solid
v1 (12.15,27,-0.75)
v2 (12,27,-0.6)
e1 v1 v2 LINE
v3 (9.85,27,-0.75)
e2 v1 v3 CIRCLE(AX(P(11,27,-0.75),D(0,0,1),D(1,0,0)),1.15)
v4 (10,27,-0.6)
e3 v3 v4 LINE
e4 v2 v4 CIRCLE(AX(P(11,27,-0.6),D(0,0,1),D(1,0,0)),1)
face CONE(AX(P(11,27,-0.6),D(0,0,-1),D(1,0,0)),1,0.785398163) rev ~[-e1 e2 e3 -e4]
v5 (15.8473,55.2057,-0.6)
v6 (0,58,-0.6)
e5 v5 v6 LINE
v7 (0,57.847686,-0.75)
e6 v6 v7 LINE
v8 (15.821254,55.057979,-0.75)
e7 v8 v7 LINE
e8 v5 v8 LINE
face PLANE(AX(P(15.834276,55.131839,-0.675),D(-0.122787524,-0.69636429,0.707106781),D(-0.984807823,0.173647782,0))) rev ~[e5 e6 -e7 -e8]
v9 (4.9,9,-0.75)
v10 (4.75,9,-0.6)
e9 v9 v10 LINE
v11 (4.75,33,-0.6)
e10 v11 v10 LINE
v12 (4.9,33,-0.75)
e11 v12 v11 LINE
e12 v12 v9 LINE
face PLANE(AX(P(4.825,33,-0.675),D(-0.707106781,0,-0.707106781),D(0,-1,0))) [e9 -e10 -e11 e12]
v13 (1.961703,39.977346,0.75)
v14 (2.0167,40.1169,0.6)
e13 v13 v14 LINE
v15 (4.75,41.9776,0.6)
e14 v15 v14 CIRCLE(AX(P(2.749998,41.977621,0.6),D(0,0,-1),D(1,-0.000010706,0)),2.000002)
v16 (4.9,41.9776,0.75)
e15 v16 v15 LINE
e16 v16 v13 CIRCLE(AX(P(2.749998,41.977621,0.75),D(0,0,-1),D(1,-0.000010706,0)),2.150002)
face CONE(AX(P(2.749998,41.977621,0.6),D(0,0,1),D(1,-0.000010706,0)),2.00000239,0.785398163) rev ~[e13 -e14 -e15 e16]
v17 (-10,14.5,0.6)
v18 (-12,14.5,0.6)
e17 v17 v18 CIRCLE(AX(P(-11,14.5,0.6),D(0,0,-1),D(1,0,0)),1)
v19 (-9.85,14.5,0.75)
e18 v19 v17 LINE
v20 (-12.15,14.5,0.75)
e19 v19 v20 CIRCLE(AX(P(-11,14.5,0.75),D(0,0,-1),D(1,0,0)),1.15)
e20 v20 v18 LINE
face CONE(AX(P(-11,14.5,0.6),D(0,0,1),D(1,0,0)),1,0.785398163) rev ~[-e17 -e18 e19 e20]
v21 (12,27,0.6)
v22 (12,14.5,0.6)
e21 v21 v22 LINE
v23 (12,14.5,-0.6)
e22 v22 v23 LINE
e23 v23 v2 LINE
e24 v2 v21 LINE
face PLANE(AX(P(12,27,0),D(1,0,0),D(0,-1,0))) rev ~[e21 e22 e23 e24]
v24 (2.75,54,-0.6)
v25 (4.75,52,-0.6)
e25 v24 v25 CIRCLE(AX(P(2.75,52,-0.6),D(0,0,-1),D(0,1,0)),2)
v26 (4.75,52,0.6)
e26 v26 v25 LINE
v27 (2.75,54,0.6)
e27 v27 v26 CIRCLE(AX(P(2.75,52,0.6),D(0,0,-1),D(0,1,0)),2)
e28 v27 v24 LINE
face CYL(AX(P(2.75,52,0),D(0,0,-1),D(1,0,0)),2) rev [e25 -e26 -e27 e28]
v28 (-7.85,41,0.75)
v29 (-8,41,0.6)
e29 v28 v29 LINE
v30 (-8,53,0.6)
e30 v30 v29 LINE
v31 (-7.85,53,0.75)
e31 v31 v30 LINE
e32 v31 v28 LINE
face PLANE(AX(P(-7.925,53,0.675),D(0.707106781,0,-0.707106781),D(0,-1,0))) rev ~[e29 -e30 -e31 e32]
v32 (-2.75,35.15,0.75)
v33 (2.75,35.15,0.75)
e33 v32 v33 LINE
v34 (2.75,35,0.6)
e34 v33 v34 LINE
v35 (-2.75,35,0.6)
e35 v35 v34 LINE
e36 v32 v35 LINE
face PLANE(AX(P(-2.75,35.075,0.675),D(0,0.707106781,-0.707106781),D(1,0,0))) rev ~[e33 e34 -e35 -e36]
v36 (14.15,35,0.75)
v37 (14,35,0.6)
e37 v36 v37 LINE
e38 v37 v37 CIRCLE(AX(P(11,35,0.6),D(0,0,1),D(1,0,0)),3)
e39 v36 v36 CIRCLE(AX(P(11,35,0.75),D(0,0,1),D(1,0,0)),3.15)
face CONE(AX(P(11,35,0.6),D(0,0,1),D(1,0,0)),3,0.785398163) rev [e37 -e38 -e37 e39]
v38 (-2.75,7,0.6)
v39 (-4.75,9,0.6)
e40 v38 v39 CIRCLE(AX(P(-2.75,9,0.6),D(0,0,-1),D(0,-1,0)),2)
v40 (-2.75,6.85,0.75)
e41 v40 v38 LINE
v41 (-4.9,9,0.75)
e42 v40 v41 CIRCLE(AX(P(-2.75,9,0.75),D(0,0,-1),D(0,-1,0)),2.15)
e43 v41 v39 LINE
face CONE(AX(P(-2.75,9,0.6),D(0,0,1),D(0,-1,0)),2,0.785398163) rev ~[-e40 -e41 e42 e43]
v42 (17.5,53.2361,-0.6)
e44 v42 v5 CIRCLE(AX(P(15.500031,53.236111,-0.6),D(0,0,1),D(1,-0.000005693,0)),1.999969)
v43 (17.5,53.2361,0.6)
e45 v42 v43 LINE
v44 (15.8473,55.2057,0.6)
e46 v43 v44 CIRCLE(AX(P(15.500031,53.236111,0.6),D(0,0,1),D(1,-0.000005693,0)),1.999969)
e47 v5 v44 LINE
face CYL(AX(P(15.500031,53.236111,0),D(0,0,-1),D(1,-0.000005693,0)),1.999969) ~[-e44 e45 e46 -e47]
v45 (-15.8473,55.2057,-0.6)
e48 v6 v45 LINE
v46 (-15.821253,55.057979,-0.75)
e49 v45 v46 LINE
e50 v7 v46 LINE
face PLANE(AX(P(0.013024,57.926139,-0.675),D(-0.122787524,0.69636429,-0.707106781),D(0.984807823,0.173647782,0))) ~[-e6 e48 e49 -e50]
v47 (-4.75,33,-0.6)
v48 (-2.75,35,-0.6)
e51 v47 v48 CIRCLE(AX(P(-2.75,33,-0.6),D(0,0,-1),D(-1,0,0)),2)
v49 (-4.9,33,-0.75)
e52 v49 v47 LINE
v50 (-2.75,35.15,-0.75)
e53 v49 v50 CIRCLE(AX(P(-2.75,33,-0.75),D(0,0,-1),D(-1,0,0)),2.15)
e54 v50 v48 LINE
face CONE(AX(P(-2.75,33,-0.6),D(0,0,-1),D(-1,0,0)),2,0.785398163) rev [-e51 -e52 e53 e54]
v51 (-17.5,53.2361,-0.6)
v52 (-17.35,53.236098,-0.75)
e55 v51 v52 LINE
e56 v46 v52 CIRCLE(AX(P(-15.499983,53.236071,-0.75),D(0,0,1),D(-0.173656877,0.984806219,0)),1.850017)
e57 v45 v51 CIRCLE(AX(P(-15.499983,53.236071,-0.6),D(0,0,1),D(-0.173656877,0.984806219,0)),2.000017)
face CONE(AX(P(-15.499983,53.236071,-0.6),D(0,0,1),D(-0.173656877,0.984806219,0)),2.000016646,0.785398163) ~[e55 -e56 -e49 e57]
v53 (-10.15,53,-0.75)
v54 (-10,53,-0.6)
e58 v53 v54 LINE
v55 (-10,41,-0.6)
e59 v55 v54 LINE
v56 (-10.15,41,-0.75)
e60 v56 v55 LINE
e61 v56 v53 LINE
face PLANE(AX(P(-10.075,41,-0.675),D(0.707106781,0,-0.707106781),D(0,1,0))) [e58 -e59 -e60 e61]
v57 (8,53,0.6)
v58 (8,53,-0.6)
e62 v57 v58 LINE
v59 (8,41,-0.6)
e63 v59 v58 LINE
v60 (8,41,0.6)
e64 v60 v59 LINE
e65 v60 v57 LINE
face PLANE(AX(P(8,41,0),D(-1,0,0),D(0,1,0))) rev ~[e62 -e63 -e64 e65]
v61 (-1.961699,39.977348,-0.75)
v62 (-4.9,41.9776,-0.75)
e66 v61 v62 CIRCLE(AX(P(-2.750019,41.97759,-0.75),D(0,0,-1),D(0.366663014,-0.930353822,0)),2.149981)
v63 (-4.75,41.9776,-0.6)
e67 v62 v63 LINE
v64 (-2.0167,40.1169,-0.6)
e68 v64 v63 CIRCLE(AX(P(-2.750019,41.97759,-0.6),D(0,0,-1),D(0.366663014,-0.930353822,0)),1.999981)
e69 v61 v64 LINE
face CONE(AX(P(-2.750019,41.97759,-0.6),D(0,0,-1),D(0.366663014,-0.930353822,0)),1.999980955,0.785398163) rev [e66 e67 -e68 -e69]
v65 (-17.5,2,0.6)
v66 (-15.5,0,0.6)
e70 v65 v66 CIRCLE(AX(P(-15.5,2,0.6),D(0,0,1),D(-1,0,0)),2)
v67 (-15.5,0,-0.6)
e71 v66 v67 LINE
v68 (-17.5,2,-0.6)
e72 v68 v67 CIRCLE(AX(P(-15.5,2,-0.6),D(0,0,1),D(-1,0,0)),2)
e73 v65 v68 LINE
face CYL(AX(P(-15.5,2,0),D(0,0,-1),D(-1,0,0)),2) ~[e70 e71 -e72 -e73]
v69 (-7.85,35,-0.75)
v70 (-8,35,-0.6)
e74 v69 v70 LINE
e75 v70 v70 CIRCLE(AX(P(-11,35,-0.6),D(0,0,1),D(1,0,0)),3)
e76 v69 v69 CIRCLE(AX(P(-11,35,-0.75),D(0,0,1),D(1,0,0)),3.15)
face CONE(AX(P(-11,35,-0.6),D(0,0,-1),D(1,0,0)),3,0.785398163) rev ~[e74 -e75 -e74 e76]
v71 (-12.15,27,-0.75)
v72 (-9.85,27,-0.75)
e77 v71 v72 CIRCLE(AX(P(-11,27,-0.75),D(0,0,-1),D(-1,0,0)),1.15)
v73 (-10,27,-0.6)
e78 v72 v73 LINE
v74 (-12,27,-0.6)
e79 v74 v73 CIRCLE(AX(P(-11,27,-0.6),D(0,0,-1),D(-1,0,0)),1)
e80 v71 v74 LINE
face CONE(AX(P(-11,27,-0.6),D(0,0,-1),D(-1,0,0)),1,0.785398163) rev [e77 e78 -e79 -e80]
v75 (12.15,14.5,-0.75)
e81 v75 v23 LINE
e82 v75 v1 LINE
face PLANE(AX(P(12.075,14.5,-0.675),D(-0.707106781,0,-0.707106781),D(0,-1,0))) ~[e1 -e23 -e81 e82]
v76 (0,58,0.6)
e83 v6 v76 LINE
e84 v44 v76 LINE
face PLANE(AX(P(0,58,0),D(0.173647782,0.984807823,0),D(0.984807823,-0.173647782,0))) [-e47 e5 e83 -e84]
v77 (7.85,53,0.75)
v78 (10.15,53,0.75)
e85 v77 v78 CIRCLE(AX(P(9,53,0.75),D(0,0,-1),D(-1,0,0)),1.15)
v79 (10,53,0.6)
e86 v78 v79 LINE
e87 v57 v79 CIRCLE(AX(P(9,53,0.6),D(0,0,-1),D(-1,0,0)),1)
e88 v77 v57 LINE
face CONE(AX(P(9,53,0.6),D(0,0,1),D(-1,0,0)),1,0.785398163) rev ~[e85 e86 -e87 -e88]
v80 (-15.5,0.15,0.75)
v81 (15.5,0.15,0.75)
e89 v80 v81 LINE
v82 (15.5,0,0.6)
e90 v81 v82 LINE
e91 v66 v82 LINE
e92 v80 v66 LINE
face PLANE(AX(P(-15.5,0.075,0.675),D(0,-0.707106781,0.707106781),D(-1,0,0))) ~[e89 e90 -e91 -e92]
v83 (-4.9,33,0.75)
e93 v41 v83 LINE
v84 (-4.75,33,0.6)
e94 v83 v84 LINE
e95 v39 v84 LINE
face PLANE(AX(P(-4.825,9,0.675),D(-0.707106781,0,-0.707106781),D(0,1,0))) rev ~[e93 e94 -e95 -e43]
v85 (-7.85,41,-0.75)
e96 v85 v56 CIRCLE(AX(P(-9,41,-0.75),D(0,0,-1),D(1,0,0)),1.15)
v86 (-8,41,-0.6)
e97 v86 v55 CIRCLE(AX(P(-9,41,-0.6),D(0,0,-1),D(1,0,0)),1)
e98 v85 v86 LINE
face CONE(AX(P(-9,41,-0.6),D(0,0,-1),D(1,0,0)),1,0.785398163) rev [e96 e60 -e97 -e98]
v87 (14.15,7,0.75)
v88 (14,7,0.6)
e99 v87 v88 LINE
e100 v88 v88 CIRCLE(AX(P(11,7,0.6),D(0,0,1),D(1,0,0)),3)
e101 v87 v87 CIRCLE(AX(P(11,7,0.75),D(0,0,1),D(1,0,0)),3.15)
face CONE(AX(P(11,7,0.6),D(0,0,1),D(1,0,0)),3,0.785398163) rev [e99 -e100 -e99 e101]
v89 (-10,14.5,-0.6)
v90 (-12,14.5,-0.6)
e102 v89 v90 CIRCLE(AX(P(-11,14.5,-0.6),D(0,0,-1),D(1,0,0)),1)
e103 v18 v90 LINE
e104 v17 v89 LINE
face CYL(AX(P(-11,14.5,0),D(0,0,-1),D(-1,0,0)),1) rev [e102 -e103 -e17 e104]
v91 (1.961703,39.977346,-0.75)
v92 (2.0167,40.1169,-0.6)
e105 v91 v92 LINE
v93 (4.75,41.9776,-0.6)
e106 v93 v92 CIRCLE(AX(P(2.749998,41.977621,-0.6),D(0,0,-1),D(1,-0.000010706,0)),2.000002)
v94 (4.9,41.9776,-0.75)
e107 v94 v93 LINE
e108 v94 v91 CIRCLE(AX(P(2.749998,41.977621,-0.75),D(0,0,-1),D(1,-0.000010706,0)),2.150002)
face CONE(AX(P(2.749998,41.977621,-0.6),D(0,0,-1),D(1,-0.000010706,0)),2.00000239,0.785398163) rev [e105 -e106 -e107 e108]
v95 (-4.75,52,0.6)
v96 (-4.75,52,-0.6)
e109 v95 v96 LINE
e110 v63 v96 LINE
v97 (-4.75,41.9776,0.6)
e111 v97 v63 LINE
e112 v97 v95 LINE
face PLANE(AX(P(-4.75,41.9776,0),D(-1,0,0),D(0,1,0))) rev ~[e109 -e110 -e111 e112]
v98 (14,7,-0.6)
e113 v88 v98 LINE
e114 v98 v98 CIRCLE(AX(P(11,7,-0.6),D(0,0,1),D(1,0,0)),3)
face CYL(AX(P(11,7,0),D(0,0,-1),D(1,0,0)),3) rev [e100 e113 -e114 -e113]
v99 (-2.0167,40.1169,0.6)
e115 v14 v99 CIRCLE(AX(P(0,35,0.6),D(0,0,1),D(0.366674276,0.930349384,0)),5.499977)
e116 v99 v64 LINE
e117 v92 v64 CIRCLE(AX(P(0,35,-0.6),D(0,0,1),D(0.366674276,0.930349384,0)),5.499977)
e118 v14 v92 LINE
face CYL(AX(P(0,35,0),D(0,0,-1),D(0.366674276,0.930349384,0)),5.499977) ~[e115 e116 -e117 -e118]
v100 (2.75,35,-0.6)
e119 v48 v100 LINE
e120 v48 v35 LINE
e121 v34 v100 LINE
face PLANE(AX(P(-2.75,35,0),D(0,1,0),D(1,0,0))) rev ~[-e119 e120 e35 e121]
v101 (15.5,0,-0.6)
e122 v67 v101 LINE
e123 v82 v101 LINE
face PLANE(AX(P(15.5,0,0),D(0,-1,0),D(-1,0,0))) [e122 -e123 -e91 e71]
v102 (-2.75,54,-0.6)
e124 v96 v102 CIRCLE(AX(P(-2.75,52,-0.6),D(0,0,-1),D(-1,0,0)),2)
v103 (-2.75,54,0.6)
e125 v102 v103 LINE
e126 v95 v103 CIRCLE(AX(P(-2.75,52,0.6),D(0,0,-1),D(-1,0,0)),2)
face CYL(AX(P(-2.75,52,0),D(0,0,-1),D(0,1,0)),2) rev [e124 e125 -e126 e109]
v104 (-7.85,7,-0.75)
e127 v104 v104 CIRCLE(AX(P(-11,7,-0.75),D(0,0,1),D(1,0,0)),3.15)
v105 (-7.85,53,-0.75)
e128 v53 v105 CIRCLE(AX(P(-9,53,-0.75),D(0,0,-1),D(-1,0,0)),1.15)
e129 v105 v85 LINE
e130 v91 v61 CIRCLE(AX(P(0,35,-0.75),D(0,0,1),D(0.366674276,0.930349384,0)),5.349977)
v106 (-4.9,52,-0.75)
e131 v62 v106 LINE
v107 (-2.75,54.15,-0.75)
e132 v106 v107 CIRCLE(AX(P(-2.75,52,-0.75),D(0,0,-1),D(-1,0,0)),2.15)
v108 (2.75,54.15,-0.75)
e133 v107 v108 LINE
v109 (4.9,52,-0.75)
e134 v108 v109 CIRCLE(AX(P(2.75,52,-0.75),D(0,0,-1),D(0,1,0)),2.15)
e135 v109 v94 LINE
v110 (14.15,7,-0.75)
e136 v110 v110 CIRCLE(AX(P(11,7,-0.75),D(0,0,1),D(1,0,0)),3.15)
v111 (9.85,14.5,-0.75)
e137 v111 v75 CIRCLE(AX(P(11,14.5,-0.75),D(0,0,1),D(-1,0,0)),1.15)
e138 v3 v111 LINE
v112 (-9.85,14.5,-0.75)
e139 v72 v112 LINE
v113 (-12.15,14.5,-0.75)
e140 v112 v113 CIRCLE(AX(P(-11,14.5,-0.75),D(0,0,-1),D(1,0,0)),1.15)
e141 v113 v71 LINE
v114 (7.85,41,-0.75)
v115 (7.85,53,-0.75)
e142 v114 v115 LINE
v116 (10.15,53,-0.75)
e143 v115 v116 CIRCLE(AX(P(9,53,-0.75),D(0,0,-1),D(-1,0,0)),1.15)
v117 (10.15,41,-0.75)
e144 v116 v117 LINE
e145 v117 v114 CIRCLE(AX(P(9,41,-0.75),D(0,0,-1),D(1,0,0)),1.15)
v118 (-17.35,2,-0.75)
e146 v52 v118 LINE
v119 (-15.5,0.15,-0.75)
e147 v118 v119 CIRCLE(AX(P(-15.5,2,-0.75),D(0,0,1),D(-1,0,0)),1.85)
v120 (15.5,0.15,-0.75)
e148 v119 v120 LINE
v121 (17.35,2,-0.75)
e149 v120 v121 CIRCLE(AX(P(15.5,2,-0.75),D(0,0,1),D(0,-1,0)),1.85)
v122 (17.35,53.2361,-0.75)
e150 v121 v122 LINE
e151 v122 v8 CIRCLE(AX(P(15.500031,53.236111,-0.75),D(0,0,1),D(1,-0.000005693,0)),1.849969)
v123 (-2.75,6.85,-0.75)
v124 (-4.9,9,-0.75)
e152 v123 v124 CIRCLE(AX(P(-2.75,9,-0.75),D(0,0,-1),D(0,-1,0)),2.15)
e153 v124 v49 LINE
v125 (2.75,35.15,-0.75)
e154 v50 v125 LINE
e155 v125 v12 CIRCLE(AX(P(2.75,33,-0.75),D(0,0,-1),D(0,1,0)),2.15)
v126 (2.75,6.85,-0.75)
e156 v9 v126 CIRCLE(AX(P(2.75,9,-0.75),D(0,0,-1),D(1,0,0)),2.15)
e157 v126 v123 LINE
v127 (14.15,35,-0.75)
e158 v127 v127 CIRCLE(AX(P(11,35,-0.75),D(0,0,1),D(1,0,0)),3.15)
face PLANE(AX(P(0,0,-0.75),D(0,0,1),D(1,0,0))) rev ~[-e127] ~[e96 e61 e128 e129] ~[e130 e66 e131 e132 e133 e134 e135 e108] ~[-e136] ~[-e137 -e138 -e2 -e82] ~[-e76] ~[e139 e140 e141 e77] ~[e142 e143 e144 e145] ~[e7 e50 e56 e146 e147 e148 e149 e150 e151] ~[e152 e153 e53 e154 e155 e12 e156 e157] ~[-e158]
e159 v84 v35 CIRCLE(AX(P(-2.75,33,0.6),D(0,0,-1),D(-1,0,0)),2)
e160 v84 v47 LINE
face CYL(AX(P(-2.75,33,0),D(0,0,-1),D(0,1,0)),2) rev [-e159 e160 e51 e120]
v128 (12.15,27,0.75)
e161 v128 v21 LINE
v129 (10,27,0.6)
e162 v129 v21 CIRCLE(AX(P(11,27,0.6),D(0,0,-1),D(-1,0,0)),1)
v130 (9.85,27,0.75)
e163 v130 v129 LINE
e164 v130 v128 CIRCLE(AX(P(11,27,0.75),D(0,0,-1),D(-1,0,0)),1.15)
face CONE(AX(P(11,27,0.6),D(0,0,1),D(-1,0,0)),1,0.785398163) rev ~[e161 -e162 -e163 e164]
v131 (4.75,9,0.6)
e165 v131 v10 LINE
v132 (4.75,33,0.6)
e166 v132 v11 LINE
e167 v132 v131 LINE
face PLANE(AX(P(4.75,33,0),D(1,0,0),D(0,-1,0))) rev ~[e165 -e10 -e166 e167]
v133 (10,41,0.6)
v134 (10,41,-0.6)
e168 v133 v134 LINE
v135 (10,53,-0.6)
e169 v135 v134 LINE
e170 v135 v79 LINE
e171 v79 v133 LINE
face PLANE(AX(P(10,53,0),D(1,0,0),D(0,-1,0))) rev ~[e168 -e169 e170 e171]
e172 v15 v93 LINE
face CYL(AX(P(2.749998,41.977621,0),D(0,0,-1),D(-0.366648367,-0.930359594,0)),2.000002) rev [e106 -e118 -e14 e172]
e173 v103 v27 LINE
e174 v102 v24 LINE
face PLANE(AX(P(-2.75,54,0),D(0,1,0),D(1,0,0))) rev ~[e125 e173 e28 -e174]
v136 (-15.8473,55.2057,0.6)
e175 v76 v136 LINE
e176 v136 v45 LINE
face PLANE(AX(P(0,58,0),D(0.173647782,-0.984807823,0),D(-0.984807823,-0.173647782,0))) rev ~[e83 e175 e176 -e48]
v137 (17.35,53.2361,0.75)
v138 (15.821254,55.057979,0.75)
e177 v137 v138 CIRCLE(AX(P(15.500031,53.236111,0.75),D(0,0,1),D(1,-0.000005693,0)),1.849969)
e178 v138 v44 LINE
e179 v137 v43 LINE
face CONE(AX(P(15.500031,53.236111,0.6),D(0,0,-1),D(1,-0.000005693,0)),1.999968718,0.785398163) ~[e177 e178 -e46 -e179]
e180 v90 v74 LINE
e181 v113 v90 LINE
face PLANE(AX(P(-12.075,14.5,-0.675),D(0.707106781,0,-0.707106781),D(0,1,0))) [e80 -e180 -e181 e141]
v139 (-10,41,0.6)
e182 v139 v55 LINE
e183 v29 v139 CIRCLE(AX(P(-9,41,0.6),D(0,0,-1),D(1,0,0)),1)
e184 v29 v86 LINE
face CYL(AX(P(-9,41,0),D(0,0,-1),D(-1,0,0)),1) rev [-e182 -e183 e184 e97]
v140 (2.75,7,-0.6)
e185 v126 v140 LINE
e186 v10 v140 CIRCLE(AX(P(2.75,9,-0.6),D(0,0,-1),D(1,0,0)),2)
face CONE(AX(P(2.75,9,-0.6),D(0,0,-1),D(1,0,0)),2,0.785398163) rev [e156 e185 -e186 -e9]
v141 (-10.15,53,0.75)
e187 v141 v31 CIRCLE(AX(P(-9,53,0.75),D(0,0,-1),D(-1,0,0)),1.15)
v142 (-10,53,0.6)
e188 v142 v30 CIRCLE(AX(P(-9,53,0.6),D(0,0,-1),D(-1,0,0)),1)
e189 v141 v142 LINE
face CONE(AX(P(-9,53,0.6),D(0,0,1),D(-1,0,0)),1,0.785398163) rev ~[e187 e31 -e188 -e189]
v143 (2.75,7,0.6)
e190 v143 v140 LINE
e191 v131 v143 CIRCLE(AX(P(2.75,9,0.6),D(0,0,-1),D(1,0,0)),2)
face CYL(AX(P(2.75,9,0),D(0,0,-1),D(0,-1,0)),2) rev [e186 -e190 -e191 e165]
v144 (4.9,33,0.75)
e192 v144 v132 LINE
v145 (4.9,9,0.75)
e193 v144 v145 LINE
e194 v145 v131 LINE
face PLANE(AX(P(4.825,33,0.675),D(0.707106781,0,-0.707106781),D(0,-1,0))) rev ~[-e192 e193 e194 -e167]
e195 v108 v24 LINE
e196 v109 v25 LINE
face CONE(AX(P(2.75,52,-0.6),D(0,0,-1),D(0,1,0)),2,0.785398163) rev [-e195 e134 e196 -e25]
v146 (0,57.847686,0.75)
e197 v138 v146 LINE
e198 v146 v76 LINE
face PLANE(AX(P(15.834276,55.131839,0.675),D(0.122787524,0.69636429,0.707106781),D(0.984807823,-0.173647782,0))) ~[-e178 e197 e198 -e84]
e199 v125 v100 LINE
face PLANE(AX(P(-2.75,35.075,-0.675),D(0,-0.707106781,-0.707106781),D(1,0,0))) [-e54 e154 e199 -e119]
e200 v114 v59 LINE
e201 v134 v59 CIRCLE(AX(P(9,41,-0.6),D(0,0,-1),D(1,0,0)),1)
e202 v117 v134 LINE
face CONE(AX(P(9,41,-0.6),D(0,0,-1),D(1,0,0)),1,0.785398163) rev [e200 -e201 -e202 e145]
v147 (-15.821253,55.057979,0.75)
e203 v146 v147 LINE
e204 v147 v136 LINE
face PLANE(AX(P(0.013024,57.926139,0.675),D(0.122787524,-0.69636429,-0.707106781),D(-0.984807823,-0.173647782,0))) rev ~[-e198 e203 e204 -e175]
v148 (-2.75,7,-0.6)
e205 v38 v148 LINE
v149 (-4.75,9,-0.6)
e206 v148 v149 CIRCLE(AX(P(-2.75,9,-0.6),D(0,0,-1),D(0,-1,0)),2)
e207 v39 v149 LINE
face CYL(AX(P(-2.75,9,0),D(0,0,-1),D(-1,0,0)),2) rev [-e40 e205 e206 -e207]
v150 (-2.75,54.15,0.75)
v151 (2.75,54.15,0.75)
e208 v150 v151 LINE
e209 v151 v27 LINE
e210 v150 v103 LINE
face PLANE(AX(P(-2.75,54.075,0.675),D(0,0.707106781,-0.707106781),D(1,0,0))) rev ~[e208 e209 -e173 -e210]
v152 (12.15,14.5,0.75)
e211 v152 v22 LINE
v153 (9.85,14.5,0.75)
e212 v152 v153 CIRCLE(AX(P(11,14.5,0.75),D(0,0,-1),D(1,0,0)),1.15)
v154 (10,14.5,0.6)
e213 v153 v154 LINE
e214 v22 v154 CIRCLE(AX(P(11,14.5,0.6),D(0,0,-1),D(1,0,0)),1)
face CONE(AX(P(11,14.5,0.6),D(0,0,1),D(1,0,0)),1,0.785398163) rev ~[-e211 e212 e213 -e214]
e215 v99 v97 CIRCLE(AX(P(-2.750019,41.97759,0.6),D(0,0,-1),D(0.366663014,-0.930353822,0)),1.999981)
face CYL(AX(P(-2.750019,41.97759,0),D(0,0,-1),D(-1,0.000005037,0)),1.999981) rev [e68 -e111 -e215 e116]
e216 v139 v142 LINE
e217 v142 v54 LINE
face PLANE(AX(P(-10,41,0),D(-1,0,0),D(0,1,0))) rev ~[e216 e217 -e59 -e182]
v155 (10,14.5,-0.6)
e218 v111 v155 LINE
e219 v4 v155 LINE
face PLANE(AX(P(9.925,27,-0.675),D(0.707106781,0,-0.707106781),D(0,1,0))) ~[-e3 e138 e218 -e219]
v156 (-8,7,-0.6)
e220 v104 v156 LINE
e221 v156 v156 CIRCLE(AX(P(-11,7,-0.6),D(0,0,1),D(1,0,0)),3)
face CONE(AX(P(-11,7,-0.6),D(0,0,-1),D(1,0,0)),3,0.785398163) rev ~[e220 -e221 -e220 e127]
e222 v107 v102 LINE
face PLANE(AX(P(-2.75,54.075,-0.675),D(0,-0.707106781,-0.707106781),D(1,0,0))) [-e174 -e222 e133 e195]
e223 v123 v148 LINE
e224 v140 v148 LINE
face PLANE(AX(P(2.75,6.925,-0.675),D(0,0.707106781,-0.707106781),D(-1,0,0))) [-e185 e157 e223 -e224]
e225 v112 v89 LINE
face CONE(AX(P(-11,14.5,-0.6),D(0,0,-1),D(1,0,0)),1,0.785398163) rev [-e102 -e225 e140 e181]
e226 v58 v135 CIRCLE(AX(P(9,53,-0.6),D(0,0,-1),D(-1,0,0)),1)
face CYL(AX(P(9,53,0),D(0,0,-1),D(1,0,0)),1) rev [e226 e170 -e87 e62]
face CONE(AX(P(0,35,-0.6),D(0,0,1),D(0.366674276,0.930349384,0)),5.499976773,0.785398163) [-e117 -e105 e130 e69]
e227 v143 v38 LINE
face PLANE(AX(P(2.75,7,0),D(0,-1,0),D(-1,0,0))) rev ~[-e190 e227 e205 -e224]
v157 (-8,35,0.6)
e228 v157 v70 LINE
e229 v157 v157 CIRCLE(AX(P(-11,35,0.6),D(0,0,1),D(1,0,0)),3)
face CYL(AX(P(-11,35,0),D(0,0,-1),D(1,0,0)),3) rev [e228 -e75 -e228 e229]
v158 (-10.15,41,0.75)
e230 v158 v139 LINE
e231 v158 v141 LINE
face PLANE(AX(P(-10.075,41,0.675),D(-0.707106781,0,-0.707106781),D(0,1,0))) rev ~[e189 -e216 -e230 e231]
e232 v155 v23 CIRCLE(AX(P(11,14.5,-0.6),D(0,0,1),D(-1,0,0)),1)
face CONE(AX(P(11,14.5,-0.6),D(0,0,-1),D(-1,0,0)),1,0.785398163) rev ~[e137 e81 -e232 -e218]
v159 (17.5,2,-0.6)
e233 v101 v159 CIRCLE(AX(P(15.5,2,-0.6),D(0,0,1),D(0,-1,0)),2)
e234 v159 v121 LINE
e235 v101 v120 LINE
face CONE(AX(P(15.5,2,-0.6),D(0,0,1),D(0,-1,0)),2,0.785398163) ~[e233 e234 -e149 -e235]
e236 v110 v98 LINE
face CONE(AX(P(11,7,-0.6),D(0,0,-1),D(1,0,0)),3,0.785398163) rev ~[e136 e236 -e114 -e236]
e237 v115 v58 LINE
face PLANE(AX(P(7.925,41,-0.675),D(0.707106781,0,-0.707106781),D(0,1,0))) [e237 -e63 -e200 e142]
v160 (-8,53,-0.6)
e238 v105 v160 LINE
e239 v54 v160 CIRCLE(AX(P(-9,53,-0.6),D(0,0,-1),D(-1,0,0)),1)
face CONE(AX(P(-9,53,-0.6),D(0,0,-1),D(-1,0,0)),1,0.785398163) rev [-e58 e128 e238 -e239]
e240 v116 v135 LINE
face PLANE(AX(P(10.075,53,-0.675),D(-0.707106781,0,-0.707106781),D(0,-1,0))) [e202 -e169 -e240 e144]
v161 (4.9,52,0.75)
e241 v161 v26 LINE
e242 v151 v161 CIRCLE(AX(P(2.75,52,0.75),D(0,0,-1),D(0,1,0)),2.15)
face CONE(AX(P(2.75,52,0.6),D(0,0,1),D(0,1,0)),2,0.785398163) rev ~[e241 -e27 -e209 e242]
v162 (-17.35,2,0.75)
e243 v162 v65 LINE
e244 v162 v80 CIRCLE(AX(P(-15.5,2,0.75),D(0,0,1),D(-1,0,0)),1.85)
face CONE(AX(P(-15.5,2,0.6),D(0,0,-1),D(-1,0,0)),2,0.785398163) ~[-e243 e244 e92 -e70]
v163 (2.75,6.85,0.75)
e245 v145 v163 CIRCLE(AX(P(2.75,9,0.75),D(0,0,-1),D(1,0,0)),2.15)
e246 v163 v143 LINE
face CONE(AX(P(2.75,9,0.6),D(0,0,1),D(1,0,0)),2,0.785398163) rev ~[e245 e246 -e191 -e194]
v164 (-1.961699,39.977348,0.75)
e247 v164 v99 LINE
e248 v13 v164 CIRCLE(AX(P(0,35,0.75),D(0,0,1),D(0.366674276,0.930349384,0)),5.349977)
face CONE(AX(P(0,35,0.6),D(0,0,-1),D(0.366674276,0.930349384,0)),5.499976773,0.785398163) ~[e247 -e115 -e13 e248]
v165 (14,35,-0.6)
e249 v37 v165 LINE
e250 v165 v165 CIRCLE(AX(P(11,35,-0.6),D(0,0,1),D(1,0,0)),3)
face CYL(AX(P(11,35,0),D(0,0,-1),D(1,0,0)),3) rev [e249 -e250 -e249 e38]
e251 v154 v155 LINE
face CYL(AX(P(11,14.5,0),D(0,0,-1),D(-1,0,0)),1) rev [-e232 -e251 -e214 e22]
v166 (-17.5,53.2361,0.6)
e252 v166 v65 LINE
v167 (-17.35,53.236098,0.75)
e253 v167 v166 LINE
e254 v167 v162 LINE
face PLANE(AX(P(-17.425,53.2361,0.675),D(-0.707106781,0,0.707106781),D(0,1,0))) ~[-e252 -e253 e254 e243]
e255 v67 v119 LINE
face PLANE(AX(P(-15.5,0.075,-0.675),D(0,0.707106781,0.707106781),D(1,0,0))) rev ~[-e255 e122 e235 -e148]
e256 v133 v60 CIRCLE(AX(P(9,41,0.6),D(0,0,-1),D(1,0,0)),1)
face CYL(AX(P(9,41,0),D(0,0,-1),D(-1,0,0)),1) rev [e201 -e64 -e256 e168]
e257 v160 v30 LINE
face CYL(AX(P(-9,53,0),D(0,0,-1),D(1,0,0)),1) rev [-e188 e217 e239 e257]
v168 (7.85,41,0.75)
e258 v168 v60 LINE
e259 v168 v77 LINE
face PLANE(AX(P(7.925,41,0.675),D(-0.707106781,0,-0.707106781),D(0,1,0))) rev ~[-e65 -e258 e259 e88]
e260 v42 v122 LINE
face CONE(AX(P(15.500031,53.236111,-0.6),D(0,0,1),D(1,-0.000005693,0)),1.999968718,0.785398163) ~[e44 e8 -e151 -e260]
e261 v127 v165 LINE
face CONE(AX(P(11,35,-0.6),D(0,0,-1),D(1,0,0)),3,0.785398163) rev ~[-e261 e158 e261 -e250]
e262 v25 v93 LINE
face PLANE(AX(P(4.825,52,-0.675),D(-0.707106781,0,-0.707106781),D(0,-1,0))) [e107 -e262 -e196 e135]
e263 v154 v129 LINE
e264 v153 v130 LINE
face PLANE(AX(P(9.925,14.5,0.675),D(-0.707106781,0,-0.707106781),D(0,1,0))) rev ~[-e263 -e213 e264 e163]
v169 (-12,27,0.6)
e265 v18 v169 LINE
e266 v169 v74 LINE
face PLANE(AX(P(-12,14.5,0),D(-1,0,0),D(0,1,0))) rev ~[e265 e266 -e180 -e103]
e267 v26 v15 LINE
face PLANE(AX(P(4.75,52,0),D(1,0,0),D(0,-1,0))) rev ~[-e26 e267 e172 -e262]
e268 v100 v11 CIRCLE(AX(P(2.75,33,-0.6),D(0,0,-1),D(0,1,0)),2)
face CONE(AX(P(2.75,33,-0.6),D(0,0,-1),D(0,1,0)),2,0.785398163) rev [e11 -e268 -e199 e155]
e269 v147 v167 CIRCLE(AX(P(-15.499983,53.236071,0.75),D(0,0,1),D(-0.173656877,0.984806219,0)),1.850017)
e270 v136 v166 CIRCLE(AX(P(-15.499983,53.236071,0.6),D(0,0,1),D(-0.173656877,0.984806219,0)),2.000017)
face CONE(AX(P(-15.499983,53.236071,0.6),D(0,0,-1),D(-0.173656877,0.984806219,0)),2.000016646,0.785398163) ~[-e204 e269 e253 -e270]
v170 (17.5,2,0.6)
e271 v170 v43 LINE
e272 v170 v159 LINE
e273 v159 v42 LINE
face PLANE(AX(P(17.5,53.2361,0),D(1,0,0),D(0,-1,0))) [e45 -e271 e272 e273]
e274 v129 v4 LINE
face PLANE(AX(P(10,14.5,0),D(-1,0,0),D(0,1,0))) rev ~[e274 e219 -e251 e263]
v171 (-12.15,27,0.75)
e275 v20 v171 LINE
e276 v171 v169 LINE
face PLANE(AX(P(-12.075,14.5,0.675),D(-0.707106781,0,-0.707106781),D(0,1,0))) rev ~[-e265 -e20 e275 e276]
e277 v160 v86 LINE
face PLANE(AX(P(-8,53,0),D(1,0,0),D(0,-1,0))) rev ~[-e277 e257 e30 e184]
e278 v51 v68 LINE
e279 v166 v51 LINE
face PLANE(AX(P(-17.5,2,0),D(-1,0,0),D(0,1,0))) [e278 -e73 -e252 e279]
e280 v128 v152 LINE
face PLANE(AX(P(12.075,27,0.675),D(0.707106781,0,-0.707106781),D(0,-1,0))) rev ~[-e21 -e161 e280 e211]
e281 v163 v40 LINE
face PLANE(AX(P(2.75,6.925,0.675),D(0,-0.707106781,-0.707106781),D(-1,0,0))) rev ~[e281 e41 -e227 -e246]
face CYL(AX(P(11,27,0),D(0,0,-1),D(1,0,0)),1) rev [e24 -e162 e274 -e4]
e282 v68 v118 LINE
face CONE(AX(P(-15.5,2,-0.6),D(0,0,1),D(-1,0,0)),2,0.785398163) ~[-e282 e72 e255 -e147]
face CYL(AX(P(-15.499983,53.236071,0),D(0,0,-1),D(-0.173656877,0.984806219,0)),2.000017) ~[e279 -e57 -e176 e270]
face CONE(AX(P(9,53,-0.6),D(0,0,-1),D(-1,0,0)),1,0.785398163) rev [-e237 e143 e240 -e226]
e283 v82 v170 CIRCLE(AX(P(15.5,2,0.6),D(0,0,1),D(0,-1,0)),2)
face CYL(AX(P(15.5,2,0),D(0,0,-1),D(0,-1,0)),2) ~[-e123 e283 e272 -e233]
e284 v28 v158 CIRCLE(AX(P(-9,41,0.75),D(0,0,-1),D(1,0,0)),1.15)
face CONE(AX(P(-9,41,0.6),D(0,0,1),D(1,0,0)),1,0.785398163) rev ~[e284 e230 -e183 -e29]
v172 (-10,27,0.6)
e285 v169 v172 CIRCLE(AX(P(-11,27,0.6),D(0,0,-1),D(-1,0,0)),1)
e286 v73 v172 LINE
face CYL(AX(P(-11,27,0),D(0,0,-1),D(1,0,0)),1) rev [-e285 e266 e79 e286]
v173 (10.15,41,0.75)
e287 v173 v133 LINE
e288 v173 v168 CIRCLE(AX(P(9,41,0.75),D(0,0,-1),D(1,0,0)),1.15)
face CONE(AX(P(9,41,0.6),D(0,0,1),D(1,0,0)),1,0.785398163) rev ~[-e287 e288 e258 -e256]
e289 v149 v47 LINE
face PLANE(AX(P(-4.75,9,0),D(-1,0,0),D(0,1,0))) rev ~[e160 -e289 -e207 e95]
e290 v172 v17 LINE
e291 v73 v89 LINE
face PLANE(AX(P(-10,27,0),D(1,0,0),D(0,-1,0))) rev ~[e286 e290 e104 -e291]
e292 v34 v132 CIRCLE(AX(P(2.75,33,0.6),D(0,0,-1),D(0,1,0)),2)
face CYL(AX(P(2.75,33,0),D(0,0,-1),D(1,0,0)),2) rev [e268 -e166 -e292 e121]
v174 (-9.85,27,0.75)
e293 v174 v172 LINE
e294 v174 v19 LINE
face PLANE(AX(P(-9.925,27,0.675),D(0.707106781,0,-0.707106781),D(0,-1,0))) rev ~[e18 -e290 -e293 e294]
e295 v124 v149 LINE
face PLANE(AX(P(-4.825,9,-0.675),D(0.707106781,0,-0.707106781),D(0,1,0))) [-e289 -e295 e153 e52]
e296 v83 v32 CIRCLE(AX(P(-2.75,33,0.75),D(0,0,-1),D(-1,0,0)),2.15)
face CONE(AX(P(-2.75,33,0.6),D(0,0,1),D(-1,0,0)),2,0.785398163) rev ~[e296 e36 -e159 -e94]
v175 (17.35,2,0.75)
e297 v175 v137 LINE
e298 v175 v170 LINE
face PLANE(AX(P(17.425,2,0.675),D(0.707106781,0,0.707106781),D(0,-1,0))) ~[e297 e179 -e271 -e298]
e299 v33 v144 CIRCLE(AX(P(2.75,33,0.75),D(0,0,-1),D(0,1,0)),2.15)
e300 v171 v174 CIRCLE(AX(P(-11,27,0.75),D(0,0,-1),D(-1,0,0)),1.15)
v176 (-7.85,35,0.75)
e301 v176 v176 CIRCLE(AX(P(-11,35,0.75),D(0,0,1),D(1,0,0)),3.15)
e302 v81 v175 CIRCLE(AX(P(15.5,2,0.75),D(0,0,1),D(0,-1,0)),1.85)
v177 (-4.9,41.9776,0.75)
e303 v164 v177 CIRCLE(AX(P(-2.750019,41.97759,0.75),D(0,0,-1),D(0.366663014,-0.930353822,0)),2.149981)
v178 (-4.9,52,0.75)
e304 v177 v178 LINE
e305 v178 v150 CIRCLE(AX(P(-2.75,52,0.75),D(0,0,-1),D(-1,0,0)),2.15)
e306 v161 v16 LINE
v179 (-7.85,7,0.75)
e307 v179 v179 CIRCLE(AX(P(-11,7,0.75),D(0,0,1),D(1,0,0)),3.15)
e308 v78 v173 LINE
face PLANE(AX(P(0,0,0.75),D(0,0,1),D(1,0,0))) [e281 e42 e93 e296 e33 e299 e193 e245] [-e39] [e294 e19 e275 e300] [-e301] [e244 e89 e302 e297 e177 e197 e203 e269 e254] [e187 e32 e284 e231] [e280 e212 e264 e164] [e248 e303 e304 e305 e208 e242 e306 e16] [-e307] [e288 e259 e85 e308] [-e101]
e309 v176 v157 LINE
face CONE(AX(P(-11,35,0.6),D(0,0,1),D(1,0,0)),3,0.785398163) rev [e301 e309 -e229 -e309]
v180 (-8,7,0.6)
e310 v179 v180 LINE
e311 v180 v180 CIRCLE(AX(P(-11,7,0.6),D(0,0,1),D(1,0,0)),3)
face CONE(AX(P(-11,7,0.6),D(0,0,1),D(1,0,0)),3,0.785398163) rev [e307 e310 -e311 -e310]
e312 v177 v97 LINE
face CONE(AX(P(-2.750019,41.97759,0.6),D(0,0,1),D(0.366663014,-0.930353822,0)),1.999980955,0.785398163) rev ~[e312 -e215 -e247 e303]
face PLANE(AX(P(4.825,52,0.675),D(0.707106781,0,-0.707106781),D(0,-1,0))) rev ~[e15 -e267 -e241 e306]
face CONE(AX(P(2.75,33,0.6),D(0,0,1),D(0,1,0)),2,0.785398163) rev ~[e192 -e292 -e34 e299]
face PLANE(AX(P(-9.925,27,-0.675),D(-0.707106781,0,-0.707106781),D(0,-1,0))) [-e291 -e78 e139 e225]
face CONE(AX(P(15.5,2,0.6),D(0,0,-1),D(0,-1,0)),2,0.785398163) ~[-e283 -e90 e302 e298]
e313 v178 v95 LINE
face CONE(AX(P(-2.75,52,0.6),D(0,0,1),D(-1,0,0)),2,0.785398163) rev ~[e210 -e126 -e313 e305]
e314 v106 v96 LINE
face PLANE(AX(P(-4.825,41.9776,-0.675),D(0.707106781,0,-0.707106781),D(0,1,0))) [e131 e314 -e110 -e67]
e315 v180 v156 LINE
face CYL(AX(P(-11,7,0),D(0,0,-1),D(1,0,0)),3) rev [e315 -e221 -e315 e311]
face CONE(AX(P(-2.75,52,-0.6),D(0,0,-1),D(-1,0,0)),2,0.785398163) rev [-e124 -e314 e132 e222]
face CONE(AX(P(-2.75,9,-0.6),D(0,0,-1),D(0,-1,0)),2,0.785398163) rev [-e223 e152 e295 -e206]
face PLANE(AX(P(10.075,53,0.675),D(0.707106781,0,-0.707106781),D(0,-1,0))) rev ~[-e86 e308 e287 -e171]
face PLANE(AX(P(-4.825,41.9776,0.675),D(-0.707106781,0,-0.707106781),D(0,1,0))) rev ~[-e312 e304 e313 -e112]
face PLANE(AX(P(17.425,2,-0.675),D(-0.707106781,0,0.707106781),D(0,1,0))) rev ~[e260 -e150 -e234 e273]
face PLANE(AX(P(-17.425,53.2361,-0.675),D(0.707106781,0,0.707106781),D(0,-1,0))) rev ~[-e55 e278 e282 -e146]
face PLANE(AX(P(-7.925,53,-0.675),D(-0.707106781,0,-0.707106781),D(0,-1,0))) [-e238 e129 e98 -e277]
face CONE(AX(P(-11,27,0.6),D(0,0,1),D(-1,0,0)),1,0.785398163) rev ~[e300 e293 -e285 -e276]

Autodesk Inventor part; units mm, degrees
ref_plane "YZ Plane" through (0, 0, 0) normal (1, 0, 0) x (0, 1, 0)
ref_plane "XZ Plane" through (0, 0, 0) normal (0, 1, 0) x (-1, 0, 0)
ref_plane "XY Plane" through (0, 0, 0) normal (0, 0, 1) x (1, 0, 0)
sketch "Sketch1" plane through (0, 0, 0) normal (0, 0, 1) x (1, 0, 0)
  line L0 (17.5, 53.2361) -> (17.5, 2)
  line L1 (15.5, 0) -> (-15.5, 0)
  line L2 (-17.5, 2) -> (-17.5, 53.2361)
  line L3 (0, 0) -> (0, 58) construction
  line L4 (0, 58) -> (-15.8473, 55.2057)
  line L5 (0, 58) -> (15.8473, 55.2057)
  arc A0 (15.5, 0) -> (17.5, 2) centre (15.5, 2) ccw
  arc A1 (-17.5, 2) -> (-15.5, 0) centre (-15.5, 2) ccw
  arc A2 (-15.8473, 55.2057) -> (-17.5, 53.2361) centre (-15.5, 53.2361) ccw
  arc A3 (17.5, 53.2361) -> (15.8473, 55.2057) centre (15.5, 53.2361) ccw
  circle A4 centre (-11, 7) radius 3
  circle A5 centre (11, 7) radius 3
  circle A6 centre (11, 35) radius 3
  circle A7 centre (-11, 35) radius 3
  line L6 (-2.75, 35) -> (2.75, 35)
  line L7 (4.75, 33) -> (4.75, 9)
  line L8 (2.75, 7) -> (-2.75, 7)
  line L9 (-4.75, 9) -> (-4.75, 33)
  line L10 (-2.75, 54) -> (2.75, 54)
  line L11 (4.75, 52) -> (4.75, 41.9776)
  line L12 (-4.75, 41.9776) -> (-4.75, 52)
  line L13 (12, 27) -> (12, 14.5)
  line L14 (10, 14.5) -> (10, 27)
  line L15 (-10, 27) -> (-10, 14.5)
  line L16 (-12, 14.5) -> (-12, 27)
  line L17 (-8, 53) -> (-8, 41)
  line L18 (-10, 41) -> (-10, 53)
  line L19 (10, 53) -> (10, 41)
  line L20 (8, 41) -> (8, 53)
  arc A8 (-10, 41) -> (-8, 41) centre (-9, 41) ccw
  arc A9 (8, 41) -> (10, 41) centre (9, 41) ccw
  arc A10 (10, 53) -> (8, 53) centre (9, 53) ccw
  arc A11 (-8, 53) -> (-10, 53) centre (-9, 53) ccw
  arc A12 (2.0167, 40.1169) -> (-2.0167, 40.1169) centre (0, 35) ccw
  arc A13 (-4.75, 41.9776) -> (-2.0167, 40.1169) centre (-2.75, 41.9776) ccw
  arc A14 (2.0167, 40.1169) -> (4.75, 41.9776) centre (2.75, 41.9776) ccw
  arc A15 (4.75, 52) -> (2.75, 54) centre (2.75, 52) ccw
  arc A16 (-2.75, 54) -> (-4.75, 52) centre (-2.75, 52) ccw
  arc A17 (-12, 14.5) -> (-10, 14.5) centre (-11, 14.5) ccw
  arc A18 (-10, 27) -> (-12, 27) centre (-11, 27) ccw
  arc A19 (12, 27) -> (10, 27) centre (11, 27) ccw
  arc A20 (10, 14.5) -> (12, 14.5) centre (11, 14.5) ccw
  arc A21 (-2.75, 35) -> (-4.75, 33) centre (-2.75, 33) ccw
  arc A22 (4.75, 33) -> (2.75, 35) centre (2.75, 33) ccw
  arc A23 (2.75, 7) -> (4.75, 9) centre (2.75, 9) ccw
  arc A24 (-4.75, 9) -> (-2.75, 7) centre (-2.75, 9) ccw
  line L21 (-11, 35) -> (-11, 7) construction
  point P0 (-4.75, 37.7726)
  point P1 (4.75, 37.7726)
  dimension "d0" = 35
  dimension "d1" = 160
  dimension "d2" = 58
  dimension "d3" = 2
  dimension "d4" = 2
  dimension "d5" = 2
  dimension "d7" = 7
  dimension "d8" = 6
  dimension "d9" = 35
  dimension "d10" = 6.5
  dimension "d11" = 14.5
  dimension "d12" = 12.5
  dimension "d13" = 1
  dimension "d14" = 7
  dimension "d15" = 28
  dimension "d16" = 12.75
  dimension "d17" = 41
  dimension "d18" = 18
  dimension "d19" = 53
  dimension "d20" = 54
  dimension "d21" = 9.5
  dimension "d22" = 19
  dimension "d23" = 5.5
  dimension "d32" = 22
extrude "Extrusion1" add sketch "Sketch1" along normal mid plane 1.5
chamfer "Chamfer1" distance 0.15 angle 45 72 edges at (-4.75, 21, 0.75) (-4.1642, 34.4142, 0.75) (0, 35, 0.75) (4.1642, 34.4142, 0.75) (4.75, 21, 0.75) (4.1642, 7.5858, 0.75) (0, 7, 0.75) (-4.1642, 7.5858, 0.75) (-4.75, 21, -0.75) (-4.1642, 7.5858, -0.75) (0, 7, -0.75) (4.1642, 7.5858, -0.75) (4.75, 21, -0.75) (4.1642, 34.4142, -0.75) (0, 35, -0.75) (-4.1642, 34.4142, -0.75) (-4.75, 46.9888, 0.75) (-4.1642, 53.4142, 0.75) (0, 54, 0.75) (4.1642, 53.4142, 0.75) (4.75, 46.9888, 0.75) (3.8755, 40.3244, 0.75) (0, 40.5, 0.75) (-3.8755, 40.3244, 0.75) (-4.75, 46.9888, -0.75) (-3.8755, 40.3244, -0.75) (0, 40.5, -0.75) (3.8755, 40.3244, -0.75) (4.75, 46.9888, -0.75) (4.1642, 53.4142, -0.75) (0, 54, -0.75) (-4.1642, 53.4142, -0.75) (-8, 47, 0.75) (-9, 40, 0.75) (-10, 47, 0.75) (-9, 54, 0.75) (-8, 47, -0.75) (-9, 54, -0.75) (-10, 47, -0.75) (-9, 40, -0.75) (8, 47, 0.75) (9, 54, 0.75) (10, 47, 0.75) (9, 40, 0.75) (10, 47, -0.75) (9, 54, -0.75) (8, 47, -0.75) (9, 40, -0.75) (8, 35, 0.75) (11, 28, -0.75) (10, 20.75, -0.75) (11, 13.5, -0.75) (12, 20.75, -0.75) (8, 7, -0.75) (10, 20.75, 0.75) (11, 28, 0.75) (12, 20.75, 0.75) (11, 13.5, 0.75) (-12, 20.75, 0.75) (-11, 28, 0.75) (-10, 20.75, 0.75) (-11, 13.5, 0.75) (-12, 20.75, -0.75) (-11, 13.5, -0.75) (-10, 20.75, -0.75) (-11, 28, -0.75) (8, 35, -0.75) (8, 7, 0.75) (-14, 7, 0.75) (-14, 35, 0.75) (-14, 35, -0.75) (-14, 7, -0.75)
chamfer "Chamfer2" distance 0.15 angle 45 18 edges at (17.0321, 54.5217, -0.75) (7.9236, 56.6028, -0.75) (17.5, 27.618, -0.75) (16.9142, 0.5858, -0.75) (0, 0, -0.75) (-16.9142, 0.5858, -0.75) (-17.5, 27.618, -0.75) (-17.0321, 54.5217, -0.75) (-7.9236, 56.6028, -0.75) (17.0321, 54.5217, 0.75) (17.5, 27.618, 0.75) (16.9142, 0.5858, 0.75) (0, 0, 0.75) (-16.9142, 0.5858, 0.75) (-17.5, 27.618, 0.75) (-17.0321, 54.5217, 0.75) (-7.9236, 56.6028, 0.75) (7.9236, 56.6028, 0.75)
properties part number "Camera Plate"
